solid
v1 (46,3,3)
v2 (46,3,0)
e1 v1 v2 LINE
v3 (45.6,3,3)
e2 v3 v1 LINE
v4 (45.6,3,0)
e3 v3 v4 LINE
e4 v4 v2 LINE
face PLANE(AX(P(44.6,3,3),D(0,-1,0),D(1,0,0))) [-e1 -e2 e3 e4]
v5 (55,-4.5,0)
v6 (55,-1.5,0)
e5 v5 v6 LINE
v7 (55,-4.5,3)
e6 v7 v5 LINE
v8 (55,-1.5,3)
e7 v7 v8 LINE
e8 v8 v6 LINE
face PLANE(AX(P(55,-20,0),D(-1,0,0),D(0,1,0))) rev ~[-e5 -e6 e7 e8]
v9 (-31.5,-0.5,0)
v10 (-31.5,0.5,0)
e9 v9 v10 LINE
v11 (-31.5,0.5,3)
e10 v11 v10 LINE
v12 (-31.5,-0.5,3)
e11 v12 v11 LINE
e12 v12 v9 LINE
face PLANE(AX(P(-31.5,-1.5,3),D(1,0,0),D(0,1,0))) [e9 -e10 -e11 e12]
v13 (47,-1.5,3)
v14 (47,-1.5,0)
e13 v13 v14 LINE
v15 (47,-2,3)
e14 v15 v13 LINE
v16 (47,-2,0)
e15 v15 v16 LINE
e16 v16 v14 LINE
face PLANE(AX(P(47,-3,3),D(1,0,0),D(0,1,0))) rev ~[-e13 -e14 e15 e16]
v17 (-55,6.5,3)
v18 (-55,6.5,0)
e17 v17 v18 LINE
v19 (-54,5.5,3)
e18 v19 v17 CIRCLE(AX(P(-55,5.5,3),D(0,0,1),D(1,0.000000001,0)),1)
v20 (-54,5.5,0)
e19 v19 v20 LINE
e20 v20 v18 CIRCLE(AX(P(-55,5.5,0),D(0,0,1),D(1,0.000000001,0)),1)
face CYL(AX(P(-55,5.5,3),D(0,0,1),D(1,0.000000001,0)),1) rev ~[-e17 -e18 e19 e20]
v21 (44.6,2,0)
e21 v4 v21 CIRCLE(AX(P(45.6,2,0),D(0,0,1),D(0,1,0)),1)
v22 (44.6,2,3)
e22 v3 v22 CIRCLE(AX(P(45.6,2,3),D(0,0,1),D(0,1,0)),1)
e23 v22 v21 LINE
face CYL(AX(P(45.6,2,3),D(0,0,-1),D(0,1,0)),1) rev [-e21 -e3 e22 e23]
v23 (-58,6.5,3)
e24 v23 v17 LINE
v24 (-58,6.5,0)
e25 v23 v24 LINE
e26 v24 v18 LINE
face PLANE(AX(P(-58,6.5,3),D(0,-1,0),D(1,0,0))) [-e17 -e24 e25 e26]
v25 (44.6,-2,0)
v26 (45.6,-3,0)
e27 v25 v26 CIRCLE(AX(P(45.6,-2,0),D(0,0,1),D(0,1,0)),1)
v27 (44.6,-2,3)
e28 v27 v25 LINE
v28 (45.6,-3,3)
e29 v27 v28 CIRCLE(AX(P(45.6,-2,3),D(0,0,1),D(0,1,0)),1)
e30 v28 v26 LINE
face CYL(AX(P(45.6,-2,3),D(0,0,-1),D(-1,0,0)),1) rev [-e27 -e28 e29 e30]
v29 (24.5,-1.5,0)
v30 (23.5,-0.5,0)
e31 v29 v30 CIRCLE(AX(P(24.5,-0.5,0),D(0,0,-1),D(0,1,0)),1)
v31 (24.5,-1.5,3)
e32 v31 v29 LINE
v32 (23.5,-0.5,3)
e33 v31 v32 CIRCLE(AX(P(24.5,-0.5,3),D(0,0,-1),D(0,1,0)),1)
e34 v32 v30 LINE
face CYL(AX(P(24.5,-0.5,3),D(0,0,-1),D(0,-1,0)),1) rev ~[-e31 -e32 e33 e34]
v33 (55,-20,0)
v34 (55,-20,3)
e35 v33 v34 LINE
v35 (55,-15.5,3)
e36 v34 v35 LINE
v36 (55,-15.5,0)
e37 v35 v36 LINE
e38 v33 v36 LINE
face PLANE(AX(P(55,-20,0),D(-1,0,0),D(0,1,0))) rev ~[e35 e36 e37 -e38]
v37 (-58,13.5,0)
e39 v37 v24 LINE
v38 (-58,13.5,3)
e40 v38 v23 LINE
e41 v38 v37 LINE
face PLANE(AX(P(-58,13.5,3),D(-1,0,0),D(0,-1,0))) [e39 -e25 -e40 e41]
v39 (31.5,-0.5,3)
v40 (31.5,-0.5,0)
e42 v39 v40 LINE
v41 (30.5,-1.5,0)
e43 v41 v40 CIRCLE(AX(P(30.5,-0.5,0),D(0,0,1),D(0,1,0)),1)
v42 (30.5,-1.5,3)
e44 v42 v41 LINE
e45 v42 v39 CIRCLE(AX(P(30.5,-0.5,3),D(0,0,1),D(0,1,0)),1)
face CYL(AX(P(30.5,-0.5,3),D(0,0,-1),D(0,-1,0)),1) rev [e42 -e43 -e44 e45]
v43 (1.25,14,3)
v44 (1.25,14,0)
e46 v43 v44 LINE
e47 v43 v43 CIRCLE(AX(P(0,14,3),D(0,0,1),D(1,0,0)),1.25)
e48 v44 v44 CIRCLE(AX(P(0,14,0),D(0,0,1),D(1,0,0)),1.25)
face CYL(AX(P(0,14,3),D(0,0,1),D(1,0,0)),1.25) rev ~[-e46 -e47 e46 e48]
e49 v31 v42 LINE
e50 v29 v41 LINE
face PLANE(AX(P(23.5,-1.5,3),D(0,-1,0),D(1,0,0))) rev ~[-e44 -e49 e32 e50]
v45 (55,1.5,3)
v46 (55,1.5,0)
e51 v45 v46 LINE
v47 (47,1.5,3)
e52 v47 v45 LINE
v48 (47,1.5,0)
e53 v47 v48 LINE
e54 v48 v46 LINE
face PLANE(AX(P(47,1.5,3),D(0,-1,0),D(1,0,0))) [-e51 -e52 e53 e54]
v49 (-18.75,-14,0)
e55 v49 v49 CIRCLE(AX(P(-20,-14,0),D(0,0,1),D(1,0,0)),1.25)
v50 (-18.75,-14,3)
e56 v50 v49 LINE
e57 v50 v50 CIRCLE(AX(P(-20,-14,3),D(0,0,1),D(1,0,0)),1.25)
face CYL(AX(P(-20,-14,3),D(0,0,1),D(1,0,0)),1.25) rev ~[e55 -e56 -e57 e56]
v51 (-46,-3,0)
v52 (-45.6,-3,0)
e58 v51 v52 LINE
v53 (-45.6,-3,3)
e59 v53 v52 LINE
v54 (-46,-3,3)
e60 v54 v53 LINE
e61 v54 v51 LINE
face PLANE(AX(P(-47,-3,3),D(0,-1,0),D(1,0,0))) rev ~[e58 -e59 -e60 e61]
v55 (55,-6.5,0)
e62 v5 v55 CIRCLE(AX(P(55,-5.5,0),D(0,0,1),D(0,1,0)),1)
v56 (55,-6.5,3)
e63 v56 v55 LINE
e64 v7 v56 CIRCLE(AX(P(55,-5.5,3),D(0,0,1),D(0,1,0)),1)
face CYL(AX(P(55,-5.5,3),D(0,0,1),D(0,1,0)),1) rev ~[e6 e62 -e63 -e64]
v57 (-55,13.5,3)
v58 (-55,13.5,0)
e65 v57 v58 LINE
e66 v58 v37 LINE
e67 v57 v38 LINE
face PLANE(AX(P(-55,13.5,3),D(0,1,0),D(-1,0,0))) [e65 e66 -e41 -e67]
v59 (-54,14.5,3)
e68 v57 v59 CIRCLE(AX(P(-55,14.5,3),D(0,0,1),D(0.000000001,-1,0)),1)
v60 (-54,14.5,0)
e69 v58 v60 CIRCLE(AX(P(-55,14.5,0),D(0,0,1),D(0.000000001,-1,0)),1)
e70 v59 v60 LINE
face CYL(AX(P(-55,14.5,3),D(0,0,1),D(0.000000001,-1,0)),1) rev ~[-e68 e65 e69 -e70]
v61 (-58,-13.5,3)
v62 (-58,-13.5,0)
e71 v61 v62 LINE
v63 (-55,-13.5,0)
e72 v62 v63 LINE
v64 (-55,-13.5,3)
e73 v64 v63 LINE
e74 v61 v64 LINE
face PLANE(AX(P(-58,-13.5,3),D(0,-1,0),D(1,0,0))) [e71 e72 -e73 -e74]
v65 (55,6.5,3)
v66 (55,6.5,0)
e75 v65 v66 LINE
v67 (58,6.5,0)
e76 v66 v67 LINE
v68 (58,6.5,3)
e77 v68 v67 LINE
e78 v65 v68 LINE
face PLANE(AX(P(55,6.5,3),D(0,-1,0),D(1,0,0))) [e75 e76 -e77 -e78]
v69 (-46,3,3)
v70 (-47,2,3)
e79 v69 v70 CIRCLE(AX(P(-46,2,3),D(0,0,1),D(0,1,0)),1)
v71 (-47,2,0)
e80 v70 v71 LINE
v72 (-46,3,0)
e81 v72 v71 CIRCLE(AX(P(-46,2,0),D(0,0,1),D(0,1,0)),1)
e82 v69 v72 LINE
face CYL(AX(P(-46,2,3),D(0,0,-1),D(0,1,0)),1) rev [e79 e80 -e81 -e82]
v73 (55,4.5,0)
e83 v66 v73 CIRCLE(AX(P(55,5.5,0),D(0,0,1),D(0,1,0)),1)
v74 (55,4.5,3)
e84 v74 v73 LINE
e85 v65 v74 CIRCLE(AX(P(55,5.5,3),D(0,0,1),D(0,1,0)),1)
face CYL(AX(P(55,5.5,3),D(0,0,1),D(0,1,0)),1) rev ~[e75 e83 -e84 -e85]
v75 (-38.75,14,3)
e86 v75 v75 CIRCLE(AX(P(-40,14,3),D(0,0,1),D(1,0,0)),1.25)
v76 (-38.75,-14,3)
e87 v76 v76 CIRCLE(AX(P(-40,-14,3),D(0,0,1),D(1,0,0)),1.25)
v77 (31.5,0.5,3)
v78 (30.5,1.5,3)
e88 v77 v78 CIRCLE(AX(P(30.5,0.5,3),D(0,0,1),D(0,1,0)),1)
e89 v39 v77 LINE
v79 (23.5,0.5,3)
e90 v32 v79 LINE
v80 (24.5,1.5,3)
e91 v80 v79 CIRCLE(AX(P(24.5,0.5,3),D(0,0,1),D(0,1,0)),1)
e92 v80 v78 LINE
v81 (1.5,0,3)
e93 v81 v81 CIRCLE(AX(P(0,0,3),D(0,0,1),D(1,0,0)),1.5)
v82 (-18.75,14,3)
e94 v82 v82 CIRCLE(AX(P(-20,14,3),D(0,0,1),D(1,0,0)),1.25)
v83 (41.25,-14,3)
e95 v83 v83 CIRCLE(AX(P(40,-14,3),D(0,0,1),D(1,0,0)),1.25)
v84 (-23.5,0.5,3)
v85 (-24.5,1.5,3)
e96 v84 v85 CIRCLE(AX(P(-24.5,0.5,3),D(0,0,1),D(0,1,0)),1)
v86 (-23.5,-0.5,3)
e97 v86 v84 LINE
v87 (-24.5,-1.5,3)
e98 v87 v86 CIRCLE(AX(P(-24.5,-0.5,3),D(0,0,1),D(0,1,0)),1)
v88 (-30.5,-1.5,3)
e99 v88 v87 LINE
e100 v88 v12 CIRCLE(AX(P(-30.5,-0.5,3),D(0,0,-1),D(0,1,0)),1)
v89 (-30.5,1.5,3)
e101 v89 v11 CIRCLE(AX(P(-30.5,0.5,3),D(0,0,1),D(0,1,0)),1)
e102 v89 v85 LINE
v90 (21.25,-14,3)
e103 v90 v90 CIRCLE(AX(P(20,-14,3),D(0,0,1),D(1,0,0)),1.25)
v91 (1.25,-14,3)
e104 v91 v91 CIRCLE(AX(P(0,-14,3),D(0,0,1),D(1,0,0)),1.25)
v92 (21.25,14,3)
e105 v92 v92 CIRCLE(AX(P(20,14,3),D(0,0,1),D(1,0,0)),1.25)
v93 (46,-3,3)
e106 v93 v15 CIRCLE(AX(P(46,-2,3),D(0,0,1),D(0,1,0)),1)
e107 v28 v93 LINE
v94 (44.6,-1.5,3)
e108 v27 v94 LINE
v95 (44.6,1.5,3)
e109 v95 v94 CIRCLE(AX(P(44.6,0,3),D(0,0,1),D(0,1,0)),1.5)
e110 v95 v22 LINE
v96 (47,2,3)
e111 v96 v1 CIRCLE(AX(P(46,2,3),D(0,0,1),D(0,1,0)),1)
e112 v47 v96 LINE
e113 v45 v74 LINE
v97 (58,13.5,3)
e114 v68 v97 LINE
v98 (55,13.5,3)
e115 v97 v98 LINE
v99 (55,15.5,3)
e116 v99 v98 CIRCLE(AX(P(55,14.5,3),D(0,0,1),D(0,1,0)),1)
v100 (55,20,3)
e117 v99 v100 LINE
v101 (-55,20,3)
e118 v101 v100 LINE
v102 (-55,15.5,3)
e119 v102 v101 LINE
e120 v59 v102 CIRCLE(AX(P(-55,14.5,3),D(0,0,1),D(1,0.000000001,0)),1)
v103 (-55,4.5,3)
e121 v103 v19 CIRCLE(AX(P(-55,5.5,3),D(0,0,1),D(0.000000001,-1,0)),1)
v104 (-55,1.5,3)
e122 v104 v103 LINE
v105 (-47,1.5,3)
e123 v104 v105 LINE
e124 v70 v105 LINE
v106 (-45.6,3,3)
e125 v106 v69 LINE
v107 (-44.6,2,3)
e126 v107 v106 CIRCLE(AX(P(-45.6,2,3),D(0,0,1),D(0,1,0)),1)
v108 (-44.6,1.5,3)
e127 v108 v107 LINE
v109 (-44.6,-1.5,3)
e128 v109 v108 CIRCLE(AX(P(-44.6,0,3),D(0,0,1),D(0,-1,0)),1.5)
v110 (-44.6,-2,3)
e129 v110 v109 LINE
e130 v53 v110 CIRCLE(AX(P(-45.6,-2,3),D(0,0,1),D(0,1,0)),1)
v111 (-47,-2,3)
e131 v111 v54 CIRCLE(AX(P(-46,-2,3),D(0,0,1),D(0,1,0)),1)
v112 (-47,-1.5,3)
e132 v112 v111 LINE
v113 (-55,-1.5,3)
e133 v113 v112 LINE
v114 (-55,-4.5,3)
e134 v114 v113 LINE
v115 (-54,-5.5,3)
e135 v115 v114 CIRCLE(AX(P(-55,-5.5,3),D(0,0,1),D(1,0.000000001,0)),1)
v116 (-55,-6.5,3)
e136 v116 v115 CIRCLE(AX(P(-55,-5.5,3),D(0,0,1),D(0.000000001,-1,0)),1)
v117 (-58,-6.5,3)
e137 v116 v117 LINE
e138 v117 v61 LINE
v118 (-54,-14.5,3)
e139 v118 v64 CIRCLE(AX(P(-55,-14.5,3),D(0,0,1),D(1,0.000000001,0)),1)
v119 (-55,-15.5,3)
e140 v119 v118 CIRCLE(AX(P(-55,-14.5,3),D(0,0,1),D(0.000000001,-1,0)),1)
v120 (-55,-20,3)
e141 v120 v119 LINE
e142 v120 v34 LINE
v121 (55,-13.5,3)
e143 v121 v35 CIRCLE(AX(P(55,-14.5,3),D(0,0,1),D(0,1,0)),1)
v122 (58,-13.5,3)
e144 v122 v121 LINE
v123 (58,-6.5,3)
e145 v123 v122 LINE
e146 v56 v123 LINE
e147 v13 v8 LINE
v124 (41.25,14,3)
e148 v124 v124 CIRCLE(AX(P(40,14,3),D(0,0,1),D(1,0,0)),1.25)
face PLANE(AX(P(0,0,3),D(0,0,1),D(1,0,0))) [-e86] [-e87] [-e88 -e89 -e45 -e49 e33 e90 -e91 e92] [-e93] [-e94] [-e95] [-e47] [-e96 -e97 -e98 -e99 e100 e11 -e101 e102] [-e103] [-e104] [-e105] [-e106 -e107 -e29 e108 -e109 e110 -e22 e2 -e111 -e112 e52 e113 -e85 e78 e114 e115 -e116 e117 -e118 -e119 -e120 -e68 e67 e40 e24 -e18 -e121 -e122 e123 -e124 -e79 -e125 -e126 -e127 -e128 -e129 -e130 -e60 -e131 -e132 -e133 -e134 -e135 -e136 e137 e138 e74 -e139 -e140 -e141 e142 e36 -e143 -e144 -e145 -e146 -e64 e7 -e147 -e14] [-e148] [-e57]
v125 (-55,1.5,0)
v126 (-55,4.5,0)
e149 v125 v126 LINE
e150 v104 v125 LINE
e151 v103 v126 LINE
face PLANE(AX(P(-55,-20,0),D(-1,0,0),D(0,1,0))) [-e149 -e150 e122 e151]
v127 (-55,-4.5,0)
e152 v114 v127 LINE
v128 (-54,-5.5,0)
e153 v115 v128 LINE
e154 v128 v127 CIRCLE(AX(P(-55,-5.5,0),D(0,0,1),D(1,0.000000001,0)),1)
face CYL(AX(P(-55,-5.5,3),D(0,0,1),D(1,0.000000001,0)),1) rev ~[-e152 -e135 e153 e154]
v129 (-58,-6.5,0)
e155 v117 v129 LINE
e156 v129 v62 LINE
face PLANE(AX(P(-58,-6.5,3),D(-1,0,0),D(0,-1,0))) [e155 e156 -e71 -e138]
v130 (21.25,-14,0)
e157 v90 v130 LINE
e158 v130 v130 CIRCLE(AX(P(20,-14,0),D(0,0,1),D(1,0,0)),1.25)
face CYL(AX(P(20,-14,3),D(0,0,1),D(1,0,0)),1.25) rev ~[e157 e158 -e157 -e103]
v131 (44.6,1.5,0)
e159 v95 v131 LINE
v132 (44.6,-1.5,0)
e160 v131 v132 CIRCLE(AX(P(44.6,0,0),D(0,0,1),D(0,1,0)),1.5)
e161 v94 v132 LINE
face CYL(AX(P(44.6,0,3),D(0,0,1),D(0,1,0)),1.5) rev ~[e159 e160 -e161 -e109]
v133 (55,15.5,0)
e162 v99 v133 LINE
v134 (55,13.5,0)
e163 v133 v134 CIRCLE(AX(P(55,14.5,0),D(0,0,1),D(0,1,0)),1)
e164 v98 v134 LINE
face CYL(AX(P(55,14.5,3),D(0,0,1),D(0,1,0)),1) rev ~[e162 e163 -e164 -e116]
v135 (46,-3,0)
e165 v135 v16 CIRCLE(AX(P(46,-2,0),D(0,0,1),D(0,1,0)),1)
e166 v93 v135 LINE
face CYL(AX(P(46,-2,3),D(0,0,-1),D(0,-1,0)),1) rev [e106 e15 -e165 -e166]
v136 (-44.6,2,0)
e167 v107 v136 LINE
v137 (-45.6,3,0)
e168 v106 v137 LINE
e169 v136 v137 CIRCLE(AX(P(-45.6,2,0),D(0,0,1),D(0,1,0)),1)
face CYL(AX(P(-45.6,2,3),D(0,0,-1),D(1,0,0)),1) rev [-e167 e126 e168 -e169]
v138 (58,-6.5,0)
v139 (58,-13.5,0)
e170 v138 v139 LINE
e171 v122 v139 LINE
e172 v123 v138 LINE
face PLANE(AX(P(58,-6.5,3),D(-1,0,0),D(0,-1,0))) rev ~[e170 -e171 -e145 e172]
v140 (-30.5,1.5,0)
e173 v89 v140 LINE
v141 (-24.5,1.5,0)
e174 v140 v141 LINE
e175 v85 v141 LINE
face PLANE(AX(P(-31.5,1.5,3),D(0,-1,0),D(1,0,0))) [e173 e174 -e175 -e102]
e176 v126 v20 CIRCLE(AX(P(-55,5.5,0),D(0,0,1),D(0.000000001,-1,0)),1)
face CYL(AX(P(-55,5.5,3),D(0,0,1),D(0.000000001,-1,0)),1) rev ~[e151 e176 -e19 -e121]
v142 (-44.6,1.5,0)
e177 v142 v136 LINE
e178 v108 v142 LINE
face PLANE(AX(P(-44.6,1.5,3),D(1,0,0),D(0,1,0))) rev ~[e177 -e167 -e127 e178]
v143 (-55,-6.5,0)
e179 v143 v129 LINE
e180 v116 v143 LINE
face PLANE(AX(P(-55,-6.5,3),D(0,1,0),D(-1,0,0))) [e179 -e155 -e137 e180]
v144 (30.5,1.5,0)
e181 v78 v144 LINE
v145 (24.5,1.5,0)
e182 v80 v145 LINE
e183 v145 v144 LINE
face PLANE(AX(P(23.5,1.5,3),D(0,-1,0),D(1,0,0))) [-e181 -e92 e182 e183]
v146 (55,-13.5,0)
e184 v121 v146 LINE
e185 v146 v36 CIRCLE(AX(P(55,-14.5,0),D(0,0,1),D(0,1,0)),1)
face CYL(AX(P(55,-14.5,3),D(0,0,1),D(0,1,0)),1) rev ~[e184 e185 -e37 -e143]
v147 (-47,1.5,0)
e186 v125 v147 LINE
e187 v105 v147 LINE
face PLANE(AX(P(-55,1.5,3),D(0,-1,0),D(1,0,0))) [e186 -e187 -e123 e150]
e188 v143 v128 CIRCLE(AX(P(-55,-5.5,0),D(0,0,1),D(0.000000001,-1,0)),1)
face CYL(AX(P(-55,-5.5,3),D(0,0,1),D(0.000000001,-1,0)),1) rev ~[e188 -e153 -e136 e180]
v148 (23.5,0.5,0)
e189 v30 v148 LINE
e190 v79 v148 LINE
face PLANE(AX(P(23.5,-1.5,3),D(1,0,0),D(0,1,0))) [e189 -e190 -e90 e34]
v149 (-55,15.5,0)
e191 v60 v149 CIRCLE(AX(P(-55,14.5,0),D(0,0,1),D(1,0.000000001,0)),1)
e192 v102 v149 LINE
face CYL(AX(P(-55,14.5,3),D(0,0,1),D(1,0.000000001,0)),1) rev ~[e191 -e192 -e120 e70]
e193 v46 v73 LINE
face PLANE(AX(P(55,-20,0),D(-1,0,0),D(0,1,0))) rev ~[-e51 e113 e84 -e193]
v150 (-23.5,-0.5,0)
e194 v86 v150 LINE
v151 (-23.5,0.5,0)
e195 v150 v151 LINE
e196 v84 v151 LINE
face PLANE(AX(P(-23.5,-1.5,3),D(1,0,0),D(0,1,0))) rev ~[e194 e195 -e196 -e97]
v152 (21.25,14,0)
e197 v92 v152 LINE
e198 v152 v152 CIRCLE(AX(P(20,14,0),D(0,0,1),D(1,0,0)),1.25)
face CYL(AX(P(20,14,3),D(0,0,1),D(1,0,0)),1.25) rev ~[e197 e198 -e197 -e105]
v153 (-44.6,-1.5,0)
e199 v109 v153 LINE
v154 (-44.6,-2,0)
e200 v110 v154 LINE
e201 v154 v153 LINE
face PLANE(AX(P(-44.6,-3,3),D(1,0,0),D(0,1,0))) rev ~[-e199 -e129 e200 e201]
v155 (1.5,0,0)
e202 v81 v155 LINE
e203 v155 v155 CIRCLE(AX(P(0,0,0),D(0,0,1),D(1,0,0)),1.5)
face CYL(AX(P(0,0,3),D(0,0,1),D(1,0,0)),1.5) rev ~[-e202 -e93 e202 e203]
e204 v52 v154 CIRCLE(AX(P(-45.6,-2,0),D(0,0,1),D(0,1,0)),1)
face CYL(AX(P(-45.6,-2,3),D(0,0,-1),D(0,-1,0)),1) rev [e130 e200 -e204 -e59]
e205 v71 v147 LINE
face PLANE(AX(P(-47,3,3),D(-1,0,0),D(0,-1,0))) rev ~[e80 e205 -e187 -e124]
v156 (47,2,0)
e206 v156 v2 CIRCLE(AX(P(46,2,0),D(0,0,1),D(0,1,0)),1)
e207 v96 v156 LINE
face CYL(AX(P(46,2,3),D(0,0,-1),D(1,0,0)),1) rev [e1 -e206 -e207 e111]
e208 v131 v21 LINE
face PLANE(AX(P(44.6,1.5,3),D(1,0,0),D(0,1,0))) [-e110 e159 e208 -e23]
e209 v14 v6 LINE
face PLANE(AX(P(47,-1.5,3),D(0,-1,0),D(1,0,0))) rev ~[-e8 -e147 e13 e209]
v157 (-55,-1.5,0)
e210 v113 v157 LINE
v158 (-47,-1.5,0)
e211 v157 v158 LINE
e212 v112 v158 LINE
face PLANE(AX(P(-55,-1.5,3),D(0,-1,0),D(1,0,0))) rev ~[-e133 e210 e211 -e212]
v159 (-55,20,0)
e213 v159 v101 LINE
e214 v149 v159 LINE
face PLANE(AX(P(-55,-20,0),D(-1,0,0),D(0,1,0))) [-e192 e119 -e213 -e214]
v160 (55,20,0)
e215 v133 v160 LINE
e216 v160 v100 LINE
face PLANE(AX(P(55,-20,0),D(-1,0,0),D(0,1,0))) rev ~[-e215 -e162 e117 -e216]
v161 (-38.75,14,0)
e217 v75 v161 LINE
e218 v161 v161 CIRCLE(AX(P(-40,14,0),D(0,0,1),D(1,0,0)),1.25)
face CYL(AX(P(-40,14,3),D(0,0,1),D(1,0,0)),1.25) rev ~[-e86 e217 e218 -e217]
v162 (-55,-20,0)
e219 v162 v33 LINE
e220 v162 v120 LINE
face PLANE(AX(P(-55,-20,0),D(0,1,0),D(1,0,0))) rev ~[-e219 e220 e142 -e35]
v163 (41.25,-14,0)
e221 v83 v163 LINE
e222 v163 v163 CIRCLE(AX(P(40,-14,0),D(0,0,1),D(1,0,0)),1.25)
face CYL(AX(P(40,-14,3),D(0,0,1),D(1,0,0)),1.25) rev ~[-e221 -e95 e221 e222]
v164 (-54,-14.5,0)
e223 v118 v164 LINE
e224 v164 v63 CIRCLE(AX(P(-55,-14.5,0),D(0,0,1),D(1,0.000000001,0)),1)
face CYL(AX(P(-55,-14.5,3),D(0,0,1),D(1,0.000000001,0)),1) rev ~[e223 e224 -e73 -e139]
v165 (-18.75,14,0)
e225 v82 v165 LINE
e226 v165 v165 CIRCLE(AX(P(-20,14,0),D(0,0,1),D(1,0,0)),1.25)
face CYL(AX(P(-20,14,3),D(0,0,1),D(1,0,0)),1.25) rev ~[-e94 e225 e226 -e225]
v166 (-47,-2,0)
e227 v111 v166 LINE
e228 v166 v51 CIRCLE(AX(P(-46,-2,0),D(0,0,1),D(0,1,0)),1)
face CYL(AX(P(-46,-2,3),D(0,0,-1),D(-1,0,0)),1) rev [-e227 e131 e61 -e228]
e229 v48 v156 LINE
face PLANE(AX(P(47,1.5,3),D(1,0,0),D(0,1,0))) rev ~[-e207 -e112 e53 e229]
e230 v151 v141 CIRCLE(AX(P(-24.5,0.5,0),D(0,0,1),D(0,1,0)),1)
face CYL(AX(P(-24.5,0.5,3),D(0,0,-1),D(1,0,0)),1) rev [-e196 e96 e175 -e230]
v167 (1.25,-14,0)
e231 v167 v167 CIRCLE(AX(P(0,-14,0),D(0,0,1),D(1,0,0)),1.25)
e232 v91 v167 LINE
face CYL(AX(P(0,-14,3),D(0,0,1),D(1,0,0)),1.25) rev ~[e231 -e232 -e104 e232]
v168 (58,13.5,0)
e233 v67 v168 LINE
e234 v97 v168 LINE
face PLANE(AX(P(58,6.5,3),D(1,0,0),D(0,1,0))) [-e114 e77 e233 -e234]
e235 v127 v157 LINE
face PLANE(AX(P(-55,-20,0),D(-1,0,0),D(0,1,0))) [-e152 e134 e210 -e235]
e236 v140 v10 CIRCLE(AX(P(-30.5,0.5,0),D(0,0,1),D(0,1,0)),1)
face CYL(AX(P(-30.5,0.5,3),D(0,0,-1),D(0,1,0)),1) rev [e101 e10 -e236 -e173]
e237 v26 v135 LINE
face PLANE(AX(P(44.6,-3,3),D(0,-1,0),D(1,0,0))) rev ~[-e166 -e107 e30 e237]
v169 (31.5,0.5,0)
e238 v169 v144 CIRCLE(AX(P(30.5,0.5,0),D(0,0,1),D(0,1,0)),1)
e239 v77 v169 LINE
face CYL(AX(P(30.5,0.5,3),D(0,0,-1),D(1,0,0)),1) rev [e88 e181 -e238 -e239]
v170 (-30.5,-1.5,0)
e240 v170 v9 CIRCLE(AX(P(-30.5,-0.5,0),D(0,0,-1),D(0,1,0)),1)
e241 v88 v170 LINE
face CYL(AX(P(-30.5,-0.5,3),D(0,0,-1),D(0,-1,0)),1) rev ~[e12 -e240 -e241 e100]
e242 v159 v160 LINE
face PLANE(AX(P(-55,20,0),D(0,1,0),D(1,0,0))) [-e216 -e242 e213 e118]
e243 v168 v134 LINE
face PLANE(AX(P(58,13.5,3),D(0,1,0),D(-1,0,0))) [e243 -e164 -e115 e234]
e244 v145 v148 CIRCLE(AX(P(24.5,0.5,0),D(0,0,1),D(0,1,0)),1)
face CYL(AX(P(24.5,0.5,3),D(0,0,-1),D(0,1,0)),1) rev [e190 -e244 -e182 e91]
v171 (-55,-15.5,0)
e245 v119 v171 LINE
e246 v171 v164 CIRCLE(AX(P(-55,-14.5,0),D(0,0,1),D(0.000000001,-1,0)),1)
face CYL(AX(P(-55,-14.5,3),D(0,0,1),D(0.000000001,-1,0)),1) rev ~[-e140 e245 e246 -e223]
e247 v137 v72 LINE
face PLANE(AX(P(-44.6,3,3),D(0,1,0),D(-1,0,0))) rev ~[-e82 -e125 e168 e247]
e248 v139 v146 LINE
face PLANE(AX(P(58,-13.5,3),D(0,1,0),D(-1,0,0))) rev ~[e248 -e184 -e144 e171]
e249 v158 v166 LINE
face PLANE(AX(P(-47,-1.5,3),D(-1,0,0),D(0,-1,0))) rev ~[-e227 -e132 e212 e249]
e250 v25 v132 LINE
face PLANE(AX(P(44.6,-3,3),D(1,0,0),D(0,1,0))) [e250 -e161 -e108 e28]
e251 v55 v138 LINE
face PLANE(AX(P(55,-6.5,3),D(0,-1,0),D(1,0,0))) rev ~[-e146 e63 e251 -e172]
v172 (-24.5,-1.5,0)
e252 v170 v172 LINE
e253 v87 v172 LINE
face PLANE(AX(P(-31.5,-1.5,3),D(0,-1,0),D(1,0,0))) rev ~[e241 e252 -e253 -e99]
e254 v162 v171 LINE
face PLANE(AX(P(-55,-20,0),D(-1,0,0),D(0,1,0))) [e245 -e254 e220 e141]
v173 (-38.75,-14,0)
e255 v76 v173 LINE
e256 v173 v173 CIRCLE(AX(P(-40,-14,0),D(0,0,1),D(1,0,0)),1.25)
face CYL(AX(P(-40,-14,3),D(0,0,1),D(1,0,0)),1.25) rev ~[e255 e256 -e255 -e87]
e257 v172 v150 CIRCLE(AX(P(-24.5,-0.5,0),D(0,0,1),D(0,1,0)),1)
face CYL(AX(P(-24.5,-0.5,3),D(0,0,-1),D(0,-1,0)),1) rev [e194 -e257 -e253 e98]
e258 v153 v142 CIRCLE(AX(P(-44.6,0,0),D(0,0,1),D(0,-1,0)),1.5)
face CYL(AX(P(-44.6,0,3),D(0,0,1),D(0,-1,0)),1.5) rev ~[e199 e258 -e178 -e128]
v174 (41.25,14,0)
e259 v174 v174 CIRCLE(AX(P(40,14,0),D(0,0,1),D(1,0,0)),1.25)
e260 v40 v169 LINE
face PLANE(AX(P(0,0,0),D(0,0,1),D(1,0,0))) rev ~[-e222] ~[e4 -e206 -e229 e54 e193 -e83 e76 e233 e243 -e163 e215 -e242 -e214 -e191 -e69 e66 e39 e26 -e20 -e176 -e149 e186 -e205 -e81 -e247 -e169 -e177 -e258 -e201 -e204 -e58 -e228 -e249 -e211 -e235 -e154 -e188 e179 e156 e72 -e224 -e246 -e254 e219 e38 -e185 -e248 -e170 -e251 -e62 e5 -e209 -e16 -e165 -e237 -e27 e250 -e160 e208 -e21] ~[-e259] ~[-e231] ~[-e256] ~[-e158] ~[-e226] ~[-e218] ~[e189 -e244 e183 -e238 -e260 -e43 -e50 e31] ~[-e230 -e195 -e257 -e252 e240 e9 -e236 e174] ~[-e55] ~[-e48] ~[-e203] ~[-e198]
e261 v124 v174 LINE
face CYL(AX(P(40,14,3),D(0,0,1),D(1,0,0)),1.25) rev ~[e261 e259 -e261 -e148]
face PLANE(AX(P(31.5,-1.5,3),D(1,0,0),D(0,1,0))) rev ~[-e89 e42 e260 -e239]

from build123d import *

# Parameters (mm, degrees)
SKETCH1_W           = 110
SKETCH1_H           = 40
BOSS_EXTRUDE1_DEPTH = 3
BOSS_EXTRUDE2_DEPTH = 3
SKETCH3_R           = 1.5
CUT_EXTRUDE1_DEPTH  = 3
SKETCH4_W           = 8
SKETCH4_H           = 3
SKETCH4_W_2         = 2.4
SKETCH4_H_2         = 6
CUT_EXTRUDE2_DEPTH  = 3
FILLET6_R           = 1
SKETCH5_W           = 8
SKETCH5_H           = 3
CUT_EXTRUDE3_DEPTH  = 10
FILLET7_R           = 1
SKETCH6_R           = 1.25
CUT_EXTRUDE4_DEPTH  = 62.424750712


with BuildPart() as part:
    # Sketch1 → Boss-Extrude1 (new body)
    with BuildSketch(Plane.XY):
        Rectangle(SKETCH1_W, SKETCH1_H)
    extrude(amount=BOSS_EXTRUDE1_DEPTH)

    # Sketch2 → Boss-Extrude2 (add)
    with BuildSketch(Plane.XY.offset(3)):
        Polygon((58, 10), (58, 13.5), (55, 13.5), (55, 6.5), (58, 6.5), align=None)
        Polygon((55, -10), (55, -6.5), (58, -6.5), (58, -13.5), (55, -13.5), align=None)
        Polygon((-55, 6.5), (-55, 13.5), (-58, 13.5), (-58, 10), (-58, 6.5), align=None)
        Polygon((-55, -13.5), (-55, -10), (-55, -6.5), (-58, -6.5), (-58, -13.5), align=None)
    extrude(amount=-BOSS_EXTRUDE2_DEPTH)

    # Sketch3 → Cut-Extrude1 (cut)
    with BuildSketch(Plane.XY.offset(3)):
        with BuildLine():
            ThreePointArc((-55, -15.5), (-54.292893219, -15.207106781), (-54, -14.5))
            ThreePointArc((-54, -14.5), (-54.292893219, -13.792893219), (-55, -13.5))
            Line((-55, -13.5), (-55, -15.5))
        make_face()
        with BuildLine():
            Line((-55, -15.5), (-55, -13.5))
            ThreePointArc((-55, -13.5), (-56, -14.5), (-55, -15.5))
        make_face()
        with BuildLine():
            ThreePointArc((-54, -5.5), (-54.292893219, -4.792893219), (-55, -4.5))
            Line((-55, -4.5), (-55, -6.5))
            ThreePointArc((-55, -6.5), (-54.292893219, -6.207106781), (-54, -5.5))
        make_face()
        with BuildLine():
            Line((-55, -6.5), (-55, -4.5))
            ThreePointArc((-55, -4.5), (-56, -5.5), (-55, -6.5))
        make_face()
        with BuildLine():
            ThreePointArc((-55, 4.5), (-54.292893219, 4.792893219), (-54, 5.5))
            ThreePointArc((-54, 5.5), (-54.292893219, 6.207106781), (-55, 6.5))
            Line((-55, 6.5), (-55, 4.5))
        make_face()
        with BuildLine():
            Line((-55, 4.5), (-55, 6.5))
            ThreePointArc((-55, 6.5), (-56, 5.5), (-55, 4.5))
        make_face()
        with BuildLine():
            Line((-55, 15.5), (-55, 13.5))
            ThreePointArc((-55, 13.5), (-54.292893219, 13.792893219), (-54, 14.5))
            ThreePointArc((-54, 14.5), (-54.292893219, 15.207106781), (-55, 15.5))
        make_face()
        with BuildLine():
            ThreePointArc((-55, 15.5), (-56, 14.5), (-55, 13.5))
            Line((-55, 13.5), (-55, 15.5))
        make_face()
        Circle(SKETCH3_R)
        with BuildLine():
            ThreePointArc((56, -5.5), (55.707106781, -4.792893219), (55, -4.5))
            Line((55, -4.5), (55, -6.5))
            ThreePointArc((55, -6.5), (55.707106781, -6.207106781), (56, -5.5))
        make_face()
        with BuildLine():
            Line((55, -6.5), (55, -4.5))
            ThreePointArc((55, -4.5), (54, -5.5), (55, -6.5))
        make_face()
        with BuildLine():
            ThreePointArc((55, -15.5), (55.707106781, -15.207106781), (56, -14.5))
            ThreePointArc((56, -14.5), (55.707106781, -13.792893219), (55, -13.5))
            Line((55, -13.5), (55, -15.5))
        make_face()
        with BuildLine():
            Line((55, -15.5), (55, -13.5))
            ThreePointArc((55, -13.5), (54, -14.5), (55, -15.5))
        make_face()
        with BuildLine():
            ThreePointArc((55, 4.5), (55.707106781, 4.792893219), (56, 5.5))
            ThreePointArc((56, 5.5), (55.707106781, 6.207106781), (55, 6.5))
            Line((55, 6.5), (55, 4.5))
        make_face()
        with BuildLine():
            Line((55, 4.5), (55, 6.5))
            ThreePointArc((55, 6.5), (54, 5.5), (55, 4.5))
        make_face()
        with BuildLine():
            Line((55, 15.5), (55, 13.5))
            ThreePointArc((55, 13.5), (55.707106781, 13.792893219), (56, 14.5))
            ThreePointArc((56, 14.5), (55.707106781, 15.207106781), (55, 15.5))
        make_face()
        with BuildLine():
            ThreePointArc((55, 15.5), (54, 14.5), (55, 13.5))
            Line((55, 13.5), (55, 15.5))
        make_face()
    extrude(amount=-CUT_EXTRUDE1_DEPTH, mode=Mode.SUBTRACT)

    # Sketch4 → Cut-Extrude2 (cut)
    with BuildSketch(Plane.XY.offset(3)):
        with Locations((-51, 0)):
            Rectangle(SKETCH4_W, SKETCH4_H)
        Polygon((-47, 3), (-47, 1.5), (-47, -1.5), (-47, -3), (-44.6, -3), (-44.6, -1.5), (-44.6, 1.5), (-44.6, 3), align=None)
        with BuildLine():
            ThreePointArc((-44.6, -1.5), (-43.1, 0), (-44.6, 1.5))
            Line((-44.6, 1.5), (-44.6, -1.5))
        make_face()
        with Locations((45.8, 0)):
            Rectangle(SKETCH4_W_2, SKETCH4_H_2)
        with BuildLine():
            Line((44.6, -1.5), (44.6, 1.5))
            ThreePointArc((44.6, 1.5), (43.1, 0), (44.6, -1.5))
        make_face()
        with Locations((51, 0)):
            Rectangle(SKETCH4_W, SKETCH4_H)
    extrude(amount=-CUT_EXTRUDE2_DEPTH, mode=Mode.SUBTRACT)

    # Fillet6
    fillet6_edges = [part.edges().sort_by_distance(p)[0] for p in [
        (-47, 3, 1.5),
        (-44.6, 3, 1.5),
        (-44.6, -3, 1.5),
        (-47, -3, 1.5),
        (47, 3, 1.5),
        (47, -3, 1.5),
        (44.6, -3, 1.5),
        (44.6, 3, 1.5),
    ]]
    fillet(fillet6_edges, radius=FILLET6_R)

    # Sketch5 → Cut-Extrude3 (cut)
    with BuildSketch(Plane.XY.offset(3)):
        with Locations((-27.5, 0)):
            Rectangle(SKETCH5_W, SKETCH5_H)
        with Locations((27.5, 0)):
            Rectangle(SKETCH5_W, SKETCH5_H)
    extrude(amount=-CUT_EXTRUDE3_DEPTH, mode=Mode.SUBTRACT)

    # Fillet7
    fillet7_edges = [part.edges().sort_by_distance(p)[0] for p in [
        (-23.5, 1.5, 1.5),
        (-23.5, -1.5, 1.5),
        (-31.5, -1.5, 1.5),
        (-31.5, 1.5, 1.5),
        (31.5, 1.5, 1.5),
        (31.5, -1.5, 1.5),
        (23.5, -1.5, 1.5),
        (23.5, 1.5, 1.5),
    ]]
    fillet(fillet7_edges, radius=FILLET7_R)

    # Sketch6 → Cut-Extrude4 (cut, through all)
    with BuildSketch(Plane.XY.offset(3)):
        with Locations((-40, -14)):
            Circle(SKETCH6_R)
        with Locations((-20, -14)):
            Circle(SKETCH6_R)
        with Locations((0, -14)):
            Circle(SKETCH6_R)
        with Locations((20, -14)):
            Circle(SKETCH6_R)
        with Locations((40, -14)):
            Circle(SKETCH6_R)
        with Locations((40, 14)):
            Circle(SKETCH6_R)
        with Locations((20, 14)):
            Circle(SKETCH6_R)
        with Locations((0, 14)):
            Circle(SKETCH6_R)
        with Locations((-20, 14)):
            Circle(SKETCH6_R)
        with Locations((-40, 14)):
            Circle(SKETCH6_R)
    extrude(amount=-CUT_EXTRUDE4_DEPTH, mode=Mode.SUBTRACT)


solid = part.part
